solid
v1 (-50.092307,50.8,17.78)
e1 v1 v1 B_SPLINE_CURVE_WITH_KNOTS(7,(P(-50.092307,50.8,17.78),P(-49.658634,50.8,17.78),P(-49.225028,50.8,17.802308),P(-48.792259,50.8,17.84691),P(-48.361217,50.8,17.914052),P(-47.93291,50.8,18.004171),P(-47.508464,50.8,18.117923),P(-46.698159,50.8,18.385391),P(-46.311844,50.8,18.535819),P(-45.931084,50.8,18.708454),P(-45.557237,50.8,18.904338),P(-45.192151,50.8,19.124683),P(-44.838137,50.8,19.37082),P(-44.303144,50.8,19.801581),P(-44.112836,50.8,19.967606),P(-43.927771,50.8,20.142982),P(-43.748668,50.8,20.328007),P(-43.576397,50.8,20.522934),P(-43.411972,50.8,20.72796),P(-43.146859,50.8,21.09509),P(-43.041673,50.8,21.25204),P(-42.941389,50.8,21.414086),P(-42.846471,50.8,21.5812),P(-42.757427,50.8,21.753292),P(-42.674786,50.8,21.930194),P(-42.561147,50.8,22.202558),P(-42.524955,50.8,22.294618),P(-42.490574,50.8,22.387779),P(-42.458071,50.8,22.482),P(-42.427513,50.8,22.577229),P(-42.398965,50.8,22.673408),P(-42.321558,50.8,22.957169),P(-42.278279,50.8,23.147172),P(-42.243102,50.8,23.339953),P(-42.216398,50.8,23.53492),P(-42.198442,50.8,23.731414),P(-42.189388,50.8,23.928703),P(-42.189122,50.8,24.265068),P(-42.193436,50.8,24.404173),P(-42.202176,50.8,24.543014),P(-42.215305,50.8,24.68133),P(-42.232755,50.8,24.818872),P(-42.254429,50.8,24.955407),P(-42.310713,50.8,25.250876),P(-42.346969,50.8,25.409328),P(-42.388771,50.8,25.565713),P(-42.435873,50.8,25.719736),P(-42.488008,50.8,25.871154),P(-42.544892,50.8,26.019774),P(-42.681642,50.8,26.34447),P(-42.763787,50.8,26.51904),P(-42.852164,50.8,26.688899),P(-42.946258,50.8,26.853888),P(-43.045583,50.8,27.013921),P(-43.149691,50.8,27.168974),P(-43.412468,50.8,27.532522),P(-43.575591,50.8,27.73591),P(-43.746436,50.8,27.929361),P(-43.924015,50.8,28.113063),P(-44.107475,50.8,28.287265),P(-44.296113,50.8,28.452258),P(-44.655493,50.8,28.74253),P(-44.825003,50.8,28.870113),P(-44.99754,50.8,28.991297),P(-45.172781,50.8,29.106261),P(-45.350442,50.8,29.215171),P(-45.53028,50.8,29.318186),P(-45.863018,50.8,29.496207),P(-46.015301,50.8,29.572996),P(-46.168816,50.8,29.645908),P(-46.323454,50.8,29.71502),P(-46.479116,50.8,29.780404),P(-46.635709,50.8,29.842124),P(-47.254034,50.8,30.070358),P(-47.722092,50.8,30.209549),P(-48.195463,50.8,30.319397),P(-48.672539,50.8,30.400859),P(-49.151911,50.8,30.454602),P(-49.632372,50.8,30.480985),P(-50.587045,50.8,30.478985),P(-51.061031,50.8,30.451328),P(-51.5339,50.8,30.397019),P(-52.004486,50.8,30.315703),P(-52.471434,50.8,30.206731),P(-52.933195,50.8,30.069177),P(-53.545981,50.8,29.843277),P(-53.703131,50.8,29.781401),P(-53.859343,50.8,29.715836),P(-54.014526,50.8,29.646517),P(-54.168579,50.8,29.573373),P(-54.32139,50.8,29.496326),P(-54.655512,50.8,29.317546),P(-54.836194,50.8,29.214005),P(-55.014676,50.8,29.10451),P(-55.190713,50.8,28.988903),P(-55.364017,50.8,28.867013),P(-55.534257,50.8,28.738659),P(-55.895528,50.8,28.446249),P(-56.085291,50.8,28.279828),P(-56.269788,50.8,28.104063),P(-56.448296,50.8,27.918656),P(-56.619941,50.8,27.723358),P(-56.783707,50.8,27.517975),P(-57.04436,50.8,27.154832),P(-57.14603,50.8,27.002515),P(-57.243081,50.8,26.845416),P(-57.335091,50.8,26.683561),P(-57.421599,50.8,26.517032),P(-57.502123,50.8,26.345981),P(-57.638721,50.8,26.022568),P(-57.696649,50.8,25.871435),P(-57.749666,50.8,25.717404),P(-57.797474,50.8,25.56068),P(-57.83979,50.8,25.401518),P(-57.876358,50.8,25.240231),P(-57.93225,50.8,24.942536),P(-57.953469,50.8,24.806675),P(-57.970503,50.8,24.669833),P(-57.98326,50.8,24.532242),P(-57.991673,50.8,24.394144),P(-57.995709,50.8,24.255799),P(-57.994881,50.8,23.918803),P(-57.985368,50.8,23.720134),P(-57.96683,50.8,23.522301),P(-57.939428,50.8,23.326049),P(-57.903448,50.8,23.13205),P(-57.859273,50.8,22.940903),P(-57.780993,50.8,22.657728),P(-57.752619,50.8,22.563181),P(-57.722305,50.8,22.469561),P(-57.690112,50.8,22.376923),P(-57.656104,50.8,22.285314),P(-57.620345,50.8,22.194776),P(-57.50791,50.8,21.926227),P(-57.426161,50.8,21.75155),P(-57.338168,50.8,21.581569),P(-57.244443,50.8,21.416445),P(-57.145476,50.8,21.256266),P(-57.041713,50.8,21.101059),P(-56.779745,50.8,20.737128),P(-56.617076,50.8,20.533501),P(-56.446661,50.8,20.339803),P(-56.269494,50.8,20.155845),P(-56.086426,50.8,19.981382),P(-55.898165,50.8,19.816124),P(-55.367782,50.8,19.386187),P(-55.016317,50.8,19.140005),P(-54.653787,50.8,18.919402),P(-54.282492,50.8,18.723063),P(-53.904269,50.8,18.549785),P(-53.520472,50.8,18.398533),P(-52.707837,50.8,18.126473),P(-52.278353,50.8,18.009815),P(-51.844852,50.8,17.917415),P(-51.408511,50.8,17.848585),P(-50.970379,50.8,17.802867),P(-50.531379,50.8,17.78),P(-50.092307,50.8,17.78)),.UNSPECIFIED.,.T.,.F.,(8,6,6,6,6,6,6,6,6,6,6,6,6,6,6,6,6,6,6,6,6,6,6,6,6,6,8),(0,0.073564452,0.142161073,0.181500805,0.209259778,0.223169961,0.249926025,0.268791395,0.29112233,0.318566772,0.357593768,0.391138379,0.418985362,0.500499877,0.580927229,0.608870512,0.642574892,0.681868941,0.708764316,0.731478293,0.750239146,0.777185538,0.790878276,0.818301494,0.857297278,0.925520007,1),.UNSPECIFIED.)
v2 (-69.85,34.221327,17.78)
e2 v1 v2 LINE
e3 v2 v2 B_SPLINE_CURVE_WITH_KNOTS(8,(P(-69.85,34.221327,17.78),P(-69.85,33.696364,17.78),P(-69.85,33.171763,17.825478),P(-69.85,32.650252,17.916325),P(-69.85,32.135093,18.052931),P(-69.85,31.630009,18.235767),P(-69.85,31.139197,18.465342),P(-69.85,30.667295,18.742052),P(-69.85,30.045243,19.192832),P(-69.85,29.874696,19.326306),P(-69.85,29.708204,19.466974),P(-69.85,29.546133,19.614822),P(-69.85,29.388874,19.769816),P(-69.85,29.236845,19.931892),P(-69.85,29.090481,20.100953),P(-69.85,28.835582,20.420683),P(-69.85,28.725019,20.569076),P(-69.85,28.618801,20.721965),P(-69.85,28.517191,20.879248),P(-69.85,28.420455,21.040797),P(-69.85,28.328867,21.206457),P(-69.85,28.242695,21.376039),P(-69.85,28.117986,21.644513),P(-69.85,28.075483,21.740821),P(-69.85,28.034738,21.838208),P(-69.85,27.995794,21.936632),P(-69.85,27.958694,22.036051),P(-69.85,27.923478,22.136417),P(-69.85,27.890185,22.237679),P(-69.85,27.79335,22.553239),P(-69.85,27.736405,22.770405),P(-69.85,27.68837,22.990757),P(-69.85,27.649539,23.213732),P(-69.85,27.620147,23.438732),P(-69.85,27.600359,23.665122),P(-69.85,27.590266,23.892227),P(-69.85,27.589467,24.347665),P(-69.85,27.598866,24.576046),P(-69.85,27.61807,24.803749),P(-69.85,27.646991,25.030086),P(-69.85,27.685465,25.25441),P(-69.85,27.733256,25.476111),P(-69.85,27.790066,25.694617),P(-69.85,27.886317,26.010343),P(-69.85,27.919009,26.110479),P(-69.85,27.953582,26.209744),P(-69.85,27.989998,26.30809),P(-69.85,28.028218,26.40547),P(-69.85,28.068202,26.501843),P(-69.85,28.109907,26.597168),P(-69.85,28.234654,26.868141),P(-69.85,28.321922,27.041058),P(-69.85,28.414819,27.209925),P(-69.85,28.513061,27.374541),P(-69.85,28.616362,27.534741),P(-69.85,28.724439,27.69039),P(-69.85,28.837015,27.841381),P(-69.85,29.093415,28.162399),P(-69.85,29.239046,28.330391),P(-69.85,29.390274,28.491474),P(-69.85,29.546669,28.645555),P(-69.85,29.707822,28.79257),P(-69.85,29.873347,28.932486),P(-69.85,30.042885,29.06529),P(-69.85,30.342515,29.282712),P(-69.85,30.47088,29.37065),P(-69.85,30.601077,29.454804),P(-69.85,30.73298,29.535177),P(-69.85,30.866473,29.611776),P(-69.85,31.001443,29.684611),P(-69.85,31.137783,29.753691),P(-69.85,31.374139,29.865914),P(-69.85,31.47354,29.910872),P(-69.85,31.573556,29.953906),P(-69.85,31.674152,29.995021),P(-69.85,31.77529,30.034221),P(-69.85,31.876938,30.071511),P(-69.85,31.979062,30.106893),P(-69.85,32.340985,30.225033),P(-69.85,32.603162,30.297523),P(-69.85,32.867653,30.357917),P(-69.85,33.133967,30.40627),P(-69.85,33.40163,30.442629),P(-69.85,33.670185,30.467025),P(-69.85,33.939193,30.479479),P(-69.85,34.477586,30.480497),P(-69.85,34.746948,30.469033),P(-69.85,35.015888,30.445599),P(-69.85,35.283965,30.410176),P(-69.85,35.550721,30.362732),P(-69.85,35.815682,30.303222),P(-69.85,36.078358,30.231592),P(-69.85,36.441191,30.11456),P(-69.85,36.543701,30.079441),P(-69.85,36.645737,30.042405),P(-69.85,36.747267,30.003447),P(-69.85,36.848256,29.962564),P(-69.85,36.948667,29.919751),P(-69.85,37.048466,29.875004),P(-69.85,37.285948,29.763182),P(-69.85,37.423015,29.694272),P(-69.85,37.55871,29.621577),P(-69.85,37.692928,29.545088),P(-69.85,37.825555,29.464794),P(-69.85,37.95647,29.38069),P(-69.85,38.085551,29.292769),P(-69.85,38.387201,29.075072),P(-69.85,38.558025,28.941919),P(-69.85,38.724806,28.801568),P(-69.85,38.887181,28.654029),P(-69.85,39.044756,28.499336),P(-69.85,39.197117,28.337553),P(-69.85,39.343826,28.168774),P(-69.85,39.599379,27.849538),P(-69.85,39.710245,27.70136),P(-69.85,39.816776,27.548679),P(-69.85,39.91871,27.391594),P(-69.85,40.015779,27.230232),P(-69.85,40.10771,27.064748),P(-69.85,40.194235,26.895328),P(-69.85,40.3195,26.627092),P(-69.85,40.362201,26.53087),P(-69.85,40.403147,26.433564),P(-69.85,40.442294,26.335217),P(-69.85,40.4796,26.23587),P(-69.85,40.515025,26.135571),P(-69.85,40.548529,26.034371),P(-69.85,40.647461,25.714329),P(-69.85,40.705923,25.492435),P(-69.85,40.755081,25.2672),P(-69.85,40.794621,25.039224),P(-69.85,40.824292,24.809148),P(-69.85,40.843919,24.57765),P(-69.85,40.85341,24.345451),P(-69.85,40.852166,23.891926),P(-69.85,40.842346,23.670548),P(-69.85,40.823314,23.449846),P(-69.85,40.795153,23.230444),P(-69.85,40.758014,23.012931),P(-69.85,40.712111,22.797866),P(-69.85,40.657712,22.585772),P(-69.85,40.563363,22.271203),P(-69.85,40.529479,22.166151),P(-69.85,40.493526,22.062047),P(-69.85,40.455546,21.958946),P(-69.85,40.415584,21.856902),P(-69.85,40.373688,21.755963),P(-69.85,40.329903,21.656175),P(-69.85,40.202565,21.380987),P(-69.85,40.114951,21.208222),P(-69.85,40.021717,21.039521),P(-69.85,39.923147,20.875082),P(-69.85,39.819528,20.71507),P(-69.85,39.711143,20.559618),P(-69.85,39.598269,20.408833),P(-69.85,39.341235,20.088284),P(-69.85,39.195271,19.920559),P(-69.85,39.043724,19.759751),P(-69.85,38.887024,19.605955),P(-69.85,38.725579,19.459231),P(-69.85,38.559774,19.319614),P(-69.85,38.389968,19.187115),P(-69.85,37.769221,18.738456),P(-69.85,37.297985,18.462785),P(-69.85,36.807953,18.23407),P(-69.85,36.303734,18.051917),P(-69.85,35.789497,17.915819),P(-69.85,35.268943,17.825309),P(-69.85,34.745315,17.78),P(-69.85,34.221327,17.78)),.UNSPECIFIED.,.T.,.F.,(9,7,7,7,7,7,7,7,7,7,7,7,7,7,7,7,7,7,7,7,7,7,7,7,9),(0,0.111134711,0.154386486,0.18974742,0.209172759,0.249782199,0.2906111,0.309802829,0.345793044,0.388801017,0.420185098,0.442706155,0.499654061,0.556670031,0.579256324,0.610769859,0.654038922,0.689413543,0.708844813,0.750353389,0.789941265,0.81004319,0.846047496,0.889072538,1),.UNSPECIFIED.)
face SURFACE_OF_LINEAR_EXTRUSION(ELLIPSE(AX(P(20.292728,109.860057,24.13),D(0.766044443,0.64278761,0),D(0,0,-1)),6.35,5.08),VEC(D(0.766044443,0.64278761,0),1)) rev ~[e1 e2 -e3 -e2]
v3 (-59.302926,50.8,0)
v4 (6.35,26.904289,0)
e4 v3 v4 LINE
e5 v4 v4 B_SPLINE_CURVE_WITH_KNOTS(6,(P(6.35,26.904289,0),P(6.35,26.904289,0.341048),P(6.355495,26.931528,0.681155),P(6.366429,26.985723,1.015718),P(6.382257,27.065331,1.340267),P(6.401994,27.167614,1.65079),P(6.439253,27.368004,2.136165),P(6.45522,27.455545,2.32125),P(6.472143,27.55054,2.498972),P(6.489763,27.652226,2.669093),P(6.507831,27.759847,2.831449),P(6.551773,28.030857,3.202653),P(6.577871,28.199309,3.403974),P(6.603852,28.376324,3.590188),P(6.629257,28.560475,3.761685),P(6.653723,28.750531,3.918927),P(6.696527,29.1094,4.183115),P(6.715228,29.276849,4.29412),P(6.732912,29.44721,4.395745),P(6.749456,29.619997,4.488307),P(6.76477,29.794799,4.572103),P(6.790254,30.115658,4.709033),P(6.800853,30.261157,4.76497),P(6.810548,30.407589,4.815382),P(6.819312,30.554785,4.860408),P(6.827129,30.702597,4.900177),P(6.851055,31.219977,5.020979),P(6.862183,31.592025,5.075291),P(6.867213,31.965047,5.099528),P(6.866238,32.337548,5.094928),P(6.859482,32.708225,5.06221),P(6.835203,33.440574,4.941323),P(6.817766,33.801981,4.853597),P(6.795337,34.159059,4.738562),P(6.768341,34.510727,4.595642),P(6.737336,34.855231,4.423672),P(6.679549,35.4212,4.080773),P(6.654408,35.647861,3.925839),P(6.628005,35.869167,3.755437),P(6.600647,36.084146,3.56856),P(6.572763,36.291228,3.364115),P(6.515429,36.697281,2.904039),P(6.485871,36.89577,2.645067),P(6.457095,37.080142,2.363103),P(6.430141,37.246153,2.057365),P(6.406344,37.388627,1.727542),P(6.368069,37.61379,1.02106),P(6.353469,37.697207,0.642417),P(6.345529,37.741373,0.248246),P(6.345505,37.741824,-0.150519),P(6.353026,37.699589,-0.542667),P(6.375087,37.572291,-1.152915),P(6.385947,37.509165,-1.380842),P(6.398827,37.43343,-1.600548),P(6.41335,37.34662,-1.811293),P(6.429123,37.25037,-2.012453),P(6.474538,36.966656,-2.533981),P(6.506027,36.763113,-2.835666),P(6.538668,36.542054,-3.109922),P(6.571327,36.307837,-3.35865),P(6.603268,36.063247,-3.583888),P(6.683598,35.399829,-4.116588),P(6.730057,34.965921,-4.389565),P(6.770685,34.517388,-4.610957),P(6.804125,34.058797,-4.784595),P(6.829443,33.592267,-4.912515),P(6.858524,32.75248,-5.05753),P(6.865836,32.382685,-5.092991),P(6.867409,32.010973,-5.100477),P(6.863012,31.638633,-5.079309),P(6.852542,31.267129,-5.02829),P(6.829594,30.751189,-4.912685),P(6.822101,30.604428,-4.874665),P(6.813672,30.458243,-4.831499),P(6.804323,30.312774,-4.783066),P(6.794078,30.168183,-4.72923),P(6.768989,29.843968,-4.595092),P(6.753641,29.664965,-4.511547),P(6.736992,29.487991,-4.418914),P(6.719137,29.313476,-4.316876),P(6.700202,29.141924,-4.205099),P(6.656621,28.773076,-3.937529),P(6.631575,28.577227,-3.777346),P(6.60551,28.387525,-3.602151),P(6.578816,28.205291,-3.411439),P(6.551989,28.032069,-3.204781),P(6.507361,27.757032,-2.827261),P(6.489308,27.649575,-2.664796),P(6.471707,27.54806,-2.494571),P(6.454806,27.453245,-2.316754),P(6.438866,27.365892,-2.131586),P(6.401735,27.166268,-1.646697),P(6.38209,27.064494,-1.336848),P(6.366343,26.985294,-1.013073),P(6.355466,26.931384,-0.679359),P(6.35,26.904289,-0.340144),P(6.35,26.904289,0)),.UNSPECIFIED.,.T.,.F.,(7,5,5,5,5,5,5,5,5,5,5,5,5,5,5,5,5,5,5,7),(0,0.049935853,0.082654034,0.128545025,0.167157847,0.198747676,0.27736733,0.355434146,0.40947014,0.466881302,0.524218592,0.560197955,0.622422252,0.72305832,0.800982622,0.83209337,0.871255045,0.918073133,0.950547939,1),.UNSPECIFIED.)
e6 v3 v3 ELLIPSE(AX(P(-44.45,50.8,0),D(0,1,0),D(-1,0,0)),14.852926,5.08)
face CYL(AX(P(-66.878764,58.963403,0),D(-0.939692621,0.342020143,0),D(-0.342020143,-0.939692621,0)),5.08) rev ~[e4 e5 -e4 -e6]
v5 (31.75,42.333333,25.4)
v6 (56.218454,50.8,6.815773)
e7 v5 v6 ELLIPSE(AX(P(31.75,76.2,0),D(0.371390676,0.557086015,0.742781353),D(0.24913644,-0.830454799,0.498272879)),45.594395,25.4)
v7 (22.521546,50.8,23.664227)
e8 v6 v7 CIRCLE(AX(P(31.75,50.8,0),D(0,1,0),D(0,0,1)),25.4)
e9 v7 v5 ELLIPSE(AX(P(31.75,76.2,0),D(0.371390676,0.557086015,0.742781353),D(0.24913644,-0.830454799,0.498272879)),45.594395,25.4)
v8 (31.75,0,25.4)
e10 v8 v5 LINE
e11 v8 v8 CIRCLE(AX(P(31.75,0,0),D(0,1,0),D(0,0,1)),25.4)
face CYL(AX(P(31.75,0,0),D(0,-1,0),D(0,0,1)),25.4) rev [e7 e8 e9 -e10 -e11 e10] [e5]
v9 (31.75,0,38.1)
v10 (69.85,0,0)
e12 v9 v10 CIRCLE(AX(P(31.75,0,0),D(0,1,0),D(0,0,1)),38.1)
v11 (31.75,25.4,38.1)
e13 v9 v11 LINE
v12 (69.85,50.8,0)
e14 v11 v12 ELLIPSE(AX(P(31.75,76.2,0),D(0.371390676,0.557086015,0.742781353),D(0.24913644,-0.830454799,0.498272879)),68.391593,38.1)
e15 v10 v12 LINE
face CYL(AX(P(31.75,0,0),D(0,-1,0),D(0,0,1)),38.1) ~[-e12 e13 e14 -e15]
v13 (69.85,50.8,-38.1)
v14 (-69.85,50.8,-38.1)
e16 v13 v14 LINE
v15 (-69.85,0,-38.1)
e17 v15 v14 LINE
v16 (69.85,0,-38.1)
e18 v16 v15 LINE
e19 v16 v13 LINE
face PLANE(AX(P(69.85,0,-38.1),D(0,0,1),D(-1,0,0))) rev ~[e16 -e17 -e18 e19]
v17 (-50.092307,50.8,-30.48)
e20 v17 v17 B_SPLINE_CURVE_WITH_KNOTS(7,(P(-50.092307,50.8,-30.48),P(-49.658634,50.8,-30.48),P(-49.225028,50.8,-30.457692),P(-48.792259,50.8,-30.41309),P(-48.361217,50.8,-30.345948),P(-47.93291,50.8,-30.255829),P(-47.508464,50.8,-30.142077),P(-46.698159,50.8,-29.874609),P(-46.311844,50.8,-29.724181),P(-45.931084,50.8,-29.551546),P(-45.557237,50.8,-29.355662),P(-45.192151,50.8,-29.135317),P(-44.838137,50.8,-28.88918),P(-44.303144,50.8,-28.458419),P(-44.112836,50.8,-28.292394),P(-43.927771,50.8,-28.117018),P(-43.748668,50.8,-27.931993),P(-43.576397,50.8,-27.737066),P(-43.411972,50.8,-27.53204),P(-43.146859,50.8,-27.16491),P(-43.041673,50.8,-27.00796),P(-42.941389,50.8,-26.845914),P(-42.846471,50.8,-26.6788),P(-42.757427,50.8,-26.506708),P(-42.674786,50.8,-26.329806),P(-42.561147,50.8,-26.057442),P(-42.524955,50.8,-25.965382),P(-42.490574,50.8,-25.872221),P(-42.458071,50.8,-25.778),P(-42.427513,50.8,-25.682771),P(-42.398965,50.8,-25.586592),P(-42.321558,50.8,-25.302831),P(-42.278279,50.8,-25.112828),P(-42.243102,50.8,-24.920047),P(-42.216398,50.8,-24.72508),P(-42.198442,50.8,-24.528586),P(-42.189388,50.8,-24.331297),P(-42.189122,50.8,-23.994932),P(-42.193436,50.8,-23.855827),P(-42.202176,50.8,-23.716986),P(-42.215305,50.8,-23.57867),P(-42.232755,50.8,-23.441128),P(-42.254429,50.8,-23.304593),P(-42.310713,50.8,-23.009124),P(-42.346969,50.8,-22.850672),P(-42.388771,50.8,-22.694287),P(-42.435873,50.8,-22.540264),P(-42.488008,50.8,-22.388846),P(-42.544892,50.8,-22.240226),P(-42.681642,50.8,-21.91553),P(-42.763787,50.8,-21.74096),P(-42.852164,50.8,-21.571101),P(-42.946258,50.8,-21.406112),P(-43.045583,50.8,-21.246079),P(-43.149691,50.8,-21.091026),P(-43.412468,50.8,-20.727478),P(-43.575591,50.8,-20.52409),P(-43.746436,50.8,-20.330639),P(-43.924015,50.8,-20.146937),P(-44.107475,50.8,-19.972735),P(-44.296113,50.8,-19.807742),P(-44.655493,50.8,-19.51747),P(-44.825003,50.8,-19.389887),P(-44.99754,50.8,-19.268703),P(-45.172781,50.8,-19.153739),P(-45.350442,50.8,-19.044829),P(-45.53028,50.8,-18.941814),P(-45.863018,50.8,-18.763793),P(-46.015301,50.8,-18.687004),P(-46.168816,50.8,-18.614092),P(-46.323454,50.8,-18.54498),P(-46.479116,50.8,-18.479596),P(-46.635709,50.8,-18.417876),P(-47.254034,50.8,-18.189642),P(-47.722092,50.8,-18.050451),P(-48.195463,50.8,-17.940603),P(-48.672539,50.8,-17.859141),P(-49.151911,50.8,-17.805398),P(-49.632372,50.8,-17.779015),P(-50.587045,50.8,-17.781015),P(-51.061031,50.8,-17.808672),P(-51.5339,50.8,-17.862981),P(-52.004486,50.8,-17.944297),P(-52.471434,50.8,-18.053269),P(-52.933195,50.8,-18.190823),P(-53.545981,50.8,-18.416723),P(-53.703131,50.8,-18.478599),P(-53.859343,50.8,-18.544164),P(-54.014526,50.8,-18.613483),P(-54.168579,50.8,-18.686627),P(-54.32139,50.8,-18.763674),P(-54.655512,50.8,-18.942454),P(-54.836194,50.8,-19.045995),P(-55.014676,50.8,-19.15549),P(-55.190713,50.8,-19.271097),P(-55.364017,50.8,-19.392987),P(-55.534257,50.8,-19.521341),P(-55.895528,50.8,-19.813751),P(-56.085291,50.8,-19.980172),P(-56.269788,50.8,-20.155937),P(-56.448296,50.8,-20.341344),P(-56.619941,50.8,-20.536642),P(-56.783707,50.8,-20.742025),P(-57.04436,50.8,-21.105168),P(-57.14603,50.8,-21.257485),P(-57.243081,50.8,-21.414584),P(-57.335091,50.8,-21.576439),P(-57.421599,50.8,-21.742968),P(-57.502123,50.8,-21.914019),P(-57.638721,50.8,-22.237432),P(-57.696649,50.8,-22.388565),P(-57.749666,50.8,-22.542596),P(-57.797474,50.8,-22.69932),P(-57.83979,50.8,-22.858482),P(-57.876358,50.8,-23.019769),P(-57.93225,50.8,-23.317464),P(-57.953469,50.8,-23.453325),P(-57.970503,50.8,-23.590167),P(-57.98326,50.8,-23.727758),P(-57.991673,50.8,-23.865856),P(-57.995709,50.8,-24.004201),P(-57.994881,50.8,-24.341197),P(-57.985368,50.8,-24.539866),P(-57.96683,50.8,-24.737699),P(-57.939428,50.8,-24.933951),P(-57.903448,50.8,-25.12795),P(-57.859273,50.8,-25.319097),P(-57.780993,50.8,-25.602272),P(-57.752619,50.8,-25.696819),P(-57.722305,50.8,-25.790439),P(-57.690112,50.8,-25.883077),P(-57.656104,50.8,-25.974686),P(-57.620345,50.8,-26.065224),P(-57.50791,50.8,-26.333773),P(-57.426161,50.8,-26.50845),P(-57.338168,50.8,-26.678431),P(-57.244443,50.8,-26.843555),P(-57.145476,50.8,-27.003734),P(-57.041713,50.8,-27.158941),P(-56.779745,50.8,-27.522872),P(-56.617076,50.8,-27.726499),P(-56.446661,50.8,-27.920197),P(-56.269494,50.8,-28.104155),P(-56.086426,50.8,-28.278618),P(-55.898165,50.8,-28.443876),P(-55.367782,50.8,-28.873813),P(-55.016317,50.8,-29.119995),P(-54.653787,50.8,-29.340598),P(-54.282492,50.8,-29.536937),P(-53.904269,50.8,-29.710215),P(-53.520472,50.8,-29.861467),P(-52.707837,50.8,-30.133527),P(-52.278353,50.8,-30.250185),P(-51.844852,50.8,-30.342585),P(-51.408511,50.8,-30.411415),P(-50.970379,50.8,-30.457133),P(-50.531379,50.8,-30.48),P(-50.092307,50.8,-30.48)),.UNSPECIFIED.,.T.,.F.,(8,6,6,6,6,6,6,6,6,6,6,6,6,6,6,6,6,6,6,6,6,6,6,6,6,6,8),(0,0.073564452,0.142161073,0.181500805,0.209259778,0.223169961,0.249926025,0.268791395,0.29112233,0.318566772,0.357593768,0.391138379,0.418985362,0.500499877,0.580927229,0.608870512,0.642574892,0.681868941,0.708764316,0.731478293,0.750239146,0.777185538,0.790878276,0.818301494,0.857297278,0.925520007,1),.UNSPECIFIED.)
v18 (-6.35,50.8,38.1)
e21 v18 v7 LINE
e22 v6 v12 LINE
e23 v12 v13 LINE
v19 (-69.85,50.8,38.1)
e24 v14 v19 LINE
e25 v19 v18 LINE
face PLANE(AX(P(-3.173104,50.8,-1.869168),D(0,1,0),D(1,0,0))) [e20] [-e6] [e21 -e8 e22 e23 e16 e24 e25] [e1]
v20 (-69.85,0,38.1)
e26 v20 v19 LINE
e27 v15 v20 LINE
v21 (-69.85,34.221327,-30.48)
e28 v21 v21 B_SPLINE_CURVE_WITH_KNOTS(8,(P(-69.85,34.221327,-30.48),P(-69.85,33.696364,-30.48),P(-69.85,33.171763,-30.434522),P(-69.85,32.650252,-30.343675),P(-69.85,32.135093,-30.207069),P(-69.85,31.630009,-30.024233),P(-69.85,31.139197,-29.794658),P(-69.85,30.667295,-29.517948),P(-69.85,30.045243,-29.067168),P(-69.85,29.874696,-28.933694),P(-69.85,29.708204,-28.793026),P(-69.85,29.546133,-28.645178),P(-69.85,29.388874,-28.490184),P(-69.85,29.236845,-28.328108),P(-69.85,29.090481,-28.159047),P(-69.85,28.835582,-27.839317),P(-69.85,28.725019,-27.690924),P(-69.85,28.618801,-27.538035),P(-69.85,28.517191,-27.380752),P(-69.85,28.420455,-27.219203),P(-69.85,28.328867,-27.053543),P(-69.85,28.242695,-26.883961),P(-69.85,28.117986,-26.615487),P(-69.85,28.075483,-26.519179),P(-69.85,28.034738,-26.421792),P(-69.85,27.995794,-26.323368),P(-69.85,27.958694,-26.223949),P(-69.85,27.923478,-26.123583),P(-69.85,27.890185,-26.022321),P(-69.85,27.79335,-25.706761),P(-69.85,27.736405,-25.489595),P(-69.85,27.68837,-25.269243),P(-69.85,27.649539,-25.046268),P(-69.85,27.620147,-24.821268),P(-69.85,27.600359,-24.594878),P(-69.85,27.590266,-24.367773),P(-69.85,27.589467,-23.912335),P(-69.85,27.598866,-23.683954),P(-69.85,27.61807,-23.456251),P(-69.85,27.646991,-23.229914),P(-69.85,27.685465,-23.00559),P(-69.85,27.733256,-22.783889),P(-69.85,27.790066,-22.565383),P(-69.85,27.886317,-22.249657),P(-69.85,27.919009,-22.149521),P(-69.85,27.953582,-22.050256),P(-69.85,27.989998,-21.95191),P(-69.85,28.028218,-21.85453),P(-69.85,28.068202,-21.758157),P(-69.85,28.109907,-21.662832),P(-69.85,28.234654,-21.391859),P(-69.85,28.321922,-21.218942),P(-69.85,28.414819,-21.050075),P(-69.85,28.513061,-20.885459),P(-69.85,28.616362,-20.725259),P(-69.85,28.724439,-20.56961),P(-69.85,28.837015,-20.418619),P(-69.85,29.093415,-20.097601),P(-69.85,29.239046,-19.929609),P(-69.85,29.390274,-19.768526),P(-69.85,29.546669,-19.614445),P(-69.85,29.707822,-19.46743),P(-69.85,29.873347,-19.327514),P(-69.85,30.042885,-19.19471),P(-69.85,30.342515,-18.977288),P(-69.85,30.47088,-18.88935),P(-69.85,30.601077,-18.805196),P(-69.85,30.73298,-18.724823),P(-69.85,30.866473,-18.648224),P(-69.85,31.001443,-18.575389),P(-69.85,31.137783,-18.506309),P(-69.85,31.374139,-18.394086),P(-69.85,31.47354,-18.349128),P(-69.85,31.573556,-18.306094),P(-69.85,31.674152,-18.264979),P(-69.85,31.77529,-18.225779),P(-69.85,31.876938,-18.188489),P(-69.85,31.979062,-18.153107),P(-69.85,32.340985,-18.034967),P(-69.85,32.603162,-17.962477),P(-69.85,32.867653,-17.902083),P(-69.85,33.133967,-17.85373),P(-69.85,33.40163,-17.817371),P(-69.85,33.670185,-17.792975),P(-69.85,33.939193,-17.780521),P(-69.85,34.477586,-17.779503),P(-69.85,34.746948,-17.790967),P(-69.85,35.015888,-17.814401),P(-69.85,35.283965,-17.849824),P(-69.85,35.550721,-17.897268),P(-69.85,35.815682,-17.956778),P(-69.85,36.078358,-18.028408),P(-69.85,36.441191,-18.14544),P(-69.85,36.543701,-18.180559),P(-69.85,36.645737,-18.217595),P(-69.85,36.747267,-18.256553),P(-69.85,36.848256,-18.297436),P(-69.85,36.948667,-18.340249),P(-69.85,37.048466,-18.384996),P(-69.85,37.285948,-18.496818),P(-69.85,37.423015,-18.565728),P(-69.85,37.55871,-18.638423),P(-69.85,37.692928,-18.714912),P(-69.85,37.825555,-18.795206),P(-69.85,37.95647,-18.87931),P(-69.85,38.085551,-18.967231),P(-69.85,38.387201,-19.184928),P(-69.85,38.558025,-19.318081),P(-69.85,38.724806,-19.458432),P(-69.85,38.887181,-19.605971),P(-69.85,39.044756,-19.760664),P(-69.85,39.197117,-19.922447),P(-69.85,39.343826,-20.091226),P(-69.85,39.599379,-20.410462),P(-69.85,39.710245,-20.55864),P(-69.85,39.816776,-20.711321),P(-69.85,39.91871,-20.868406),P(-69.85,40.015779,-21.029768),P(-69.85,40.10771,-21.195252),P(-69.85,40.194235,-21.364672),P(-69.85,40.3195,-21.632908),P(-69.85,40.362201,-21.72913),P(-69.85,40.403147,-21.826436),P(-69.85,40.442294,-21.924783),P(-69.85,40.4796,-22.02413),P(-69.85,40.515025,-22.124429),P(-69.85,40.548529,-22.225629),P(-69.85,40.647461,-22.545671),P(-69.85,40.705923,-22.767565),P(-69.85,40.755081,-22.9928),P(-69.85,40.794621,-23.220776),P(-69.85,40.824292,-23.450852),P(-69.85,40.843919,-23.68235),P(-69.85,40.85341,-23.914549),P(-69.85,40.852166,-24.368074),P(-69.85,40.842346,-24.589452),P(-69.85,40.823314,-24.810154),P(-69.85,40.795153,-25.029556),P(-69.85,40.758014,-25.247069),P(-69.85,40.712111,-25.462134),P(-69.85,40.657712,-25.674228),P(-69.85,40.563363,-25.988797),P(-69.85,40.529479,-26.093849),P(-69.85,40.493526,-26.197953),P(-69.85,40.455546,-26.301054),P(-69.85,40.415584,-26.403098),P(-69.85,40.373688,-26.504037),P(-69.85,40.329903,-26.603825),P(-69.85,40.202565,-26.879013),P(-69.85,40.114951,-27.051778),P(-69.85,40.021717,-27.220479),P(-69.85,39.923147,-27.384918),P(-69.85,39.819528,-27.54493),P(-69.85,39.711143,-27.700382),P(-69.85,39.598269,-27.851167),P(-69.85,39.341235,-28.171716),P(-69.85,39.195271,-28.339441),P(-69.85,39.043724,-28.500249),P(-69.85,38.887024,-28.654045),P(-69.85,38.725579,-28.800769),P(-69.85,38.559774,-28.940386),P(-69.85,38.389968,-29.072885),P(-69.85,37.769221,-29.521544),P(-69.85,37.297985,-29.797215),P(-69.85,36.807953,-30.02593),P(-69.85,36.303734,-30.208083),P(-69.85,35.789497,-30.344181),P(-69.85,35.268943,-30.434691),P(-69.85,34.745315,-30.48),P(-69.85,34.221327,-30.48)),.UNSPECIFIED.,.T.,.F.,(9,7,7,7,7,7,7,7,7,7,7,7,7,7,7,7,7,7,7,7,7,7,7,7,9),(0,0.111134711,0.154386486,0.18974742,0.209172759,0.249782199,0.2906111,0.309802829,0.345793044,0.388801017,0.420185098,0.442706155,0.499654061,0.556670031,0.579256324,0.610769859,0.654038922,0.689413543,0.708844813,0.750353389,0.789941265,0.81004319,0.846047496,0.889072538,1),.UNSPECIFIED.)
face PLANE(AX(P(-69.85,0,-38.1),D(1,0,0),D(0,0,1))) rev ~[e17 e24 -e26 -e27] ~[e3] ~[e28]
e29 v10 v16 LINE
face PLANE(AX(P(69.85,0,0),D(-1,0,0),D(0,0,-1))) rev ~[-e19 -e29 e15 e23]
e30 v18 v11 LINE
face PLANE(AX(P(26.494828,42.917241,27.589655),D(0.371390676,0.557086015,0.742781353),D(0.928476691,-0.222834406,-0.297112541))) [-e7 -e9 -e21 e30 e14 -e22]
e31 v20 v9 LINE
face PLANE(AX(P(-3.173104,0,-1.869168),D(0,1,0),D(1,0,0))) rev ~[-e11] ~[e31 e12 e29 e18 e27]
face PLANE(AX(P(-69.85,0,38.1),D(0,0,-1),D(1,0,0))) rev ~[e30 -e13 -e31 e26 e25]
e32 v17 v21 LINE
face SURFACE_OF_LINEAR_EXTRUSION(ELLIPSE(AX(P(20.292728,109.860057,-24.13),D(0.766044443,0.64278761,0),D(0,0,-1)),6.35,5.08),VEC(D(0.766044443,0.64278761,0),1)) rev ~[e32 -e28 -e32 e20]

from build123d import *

# Parameters (mm, degrees)
SKETCH1_R               = 25.4
BOSS_EXTRUDE1_DEPTH     = 50.8
SKETCH3_R               = 57.740846599
CUT_EXTRUDE1_DEPTH      = 124.114128787
SKETCH4_RX              = 6.35
SKETCH4_RY              = 5.08
CUT_EXTRUDE2_DEPTH      = 152.575785835
CUT_EXTRUDE3_REACH      = 157.303
CUT_EXTRUDE3_END_RADIUS = 25.4
SKETCH6_R               = 5.08


with BuildPart() as part:
    # Sketch1 → Boss-Extrude1 (new body)
    with BuildSketch(Plane(origin=(0, 0, 0), x_dir=(1, 0, 0), z_dir=(0, 1, 0))):
        with BuildLine():
            Line((-69.85, -38.1), (31.75, -38.1))
            ThreePointArc((31.75, -38.1), (58.690768363, -26.940768363), (69.85, 0))
            Line((69.85, 0), (69.85, 38.1))
            Line((69.85, 38.1), (-69.85, 38.1))
            Line((-69.85, 38.1), (-69.85, -38.1))
        make_face()
        with Locations(Location((31.75, 0, 0), (0, 0, 270))):
            Circle(SKETCH1_R, mode=Mode.SUBTRACT)
    extrude(amount=BOSS_EXTRUDE1_DEPTH)

    # Sketch3 → Cut-Extrude1 (cut, through all)
    with BuildSketch(Plane(origin=(20.144827586, 30.217241379, 40.289655172), x_dir=(0.928476690885259, -0.22283440581246322, -0.2971125410832833), z_dir=(0.3713906763541046, 0.5570860145311567, 0.7427813527082063))):
        with Locations((6.839159305, 17.78)):
            Circle(SKETCH3_R)
    extrude(amount=CUT_EXTRUDE1_DEPTH, mode=Mode.SUBTRACT)

    # Sketch4 → Cut-Extrude2 (cut, through all)
    with BuildSketch(Plane(origin=(66.003779532, 55.383747061, 0), x_dir=(0, 0, -1), z_dir=(0.7660444431189792, 0.6427876096865379, 0))):
        with Locations((-24.13, 71.113772247)):
            Ellipse(SKETCH4_RX, SKETCH4_RY)
        with Locations((24.13, 71.113772247)):
            Ellipse(SKETCH4_RX, SKETCH4_RY)
    extrude(amount=-CUT_EXTRUDE2_DEPTH, mode=Mode.SUBTRACT)

    # Cut-Extrude3: up to this cylinder (the profile starts outside it)
    cut_extrude3_end = Plane(origin=(31.75, 58.963403, 0), z_dir=(0, -1, 0)) * Cylinder(CUT_EXTRUDE3_END_RADIUS, 366.406, mode=Mode.PRIVATE)
    # Sketch6 → Cut-Extrude3 (cut, up to the surface)
    with BuildSketch(Plane(origin=(-78.005907462, 28.391828413, 0), x_dir=(0, 0, 1), z_dir=(-0.9396926207859093, 0.34202014332566605, 0)), mode=Mode.PRIVATE) as cut_extrude3_sk1:
        with Locations(Location((0, 32.533589765, 0), (0, 0, 270))):
            Circle(SKETCH6_R)
    cut_extrude3_tool1 = extrude(cut_extrude3_sk1.sketch, amount=-CUT_EXTRUDE3_REACH, mode=Mode.PRIVATE) - cut_extrude3_end
    add(cut_extrude3_tool1.solids().sort_by_distance((-66.878764, 58.963403, 0))[0], mode=Mode.SUBTRACT)


solid = part.part
